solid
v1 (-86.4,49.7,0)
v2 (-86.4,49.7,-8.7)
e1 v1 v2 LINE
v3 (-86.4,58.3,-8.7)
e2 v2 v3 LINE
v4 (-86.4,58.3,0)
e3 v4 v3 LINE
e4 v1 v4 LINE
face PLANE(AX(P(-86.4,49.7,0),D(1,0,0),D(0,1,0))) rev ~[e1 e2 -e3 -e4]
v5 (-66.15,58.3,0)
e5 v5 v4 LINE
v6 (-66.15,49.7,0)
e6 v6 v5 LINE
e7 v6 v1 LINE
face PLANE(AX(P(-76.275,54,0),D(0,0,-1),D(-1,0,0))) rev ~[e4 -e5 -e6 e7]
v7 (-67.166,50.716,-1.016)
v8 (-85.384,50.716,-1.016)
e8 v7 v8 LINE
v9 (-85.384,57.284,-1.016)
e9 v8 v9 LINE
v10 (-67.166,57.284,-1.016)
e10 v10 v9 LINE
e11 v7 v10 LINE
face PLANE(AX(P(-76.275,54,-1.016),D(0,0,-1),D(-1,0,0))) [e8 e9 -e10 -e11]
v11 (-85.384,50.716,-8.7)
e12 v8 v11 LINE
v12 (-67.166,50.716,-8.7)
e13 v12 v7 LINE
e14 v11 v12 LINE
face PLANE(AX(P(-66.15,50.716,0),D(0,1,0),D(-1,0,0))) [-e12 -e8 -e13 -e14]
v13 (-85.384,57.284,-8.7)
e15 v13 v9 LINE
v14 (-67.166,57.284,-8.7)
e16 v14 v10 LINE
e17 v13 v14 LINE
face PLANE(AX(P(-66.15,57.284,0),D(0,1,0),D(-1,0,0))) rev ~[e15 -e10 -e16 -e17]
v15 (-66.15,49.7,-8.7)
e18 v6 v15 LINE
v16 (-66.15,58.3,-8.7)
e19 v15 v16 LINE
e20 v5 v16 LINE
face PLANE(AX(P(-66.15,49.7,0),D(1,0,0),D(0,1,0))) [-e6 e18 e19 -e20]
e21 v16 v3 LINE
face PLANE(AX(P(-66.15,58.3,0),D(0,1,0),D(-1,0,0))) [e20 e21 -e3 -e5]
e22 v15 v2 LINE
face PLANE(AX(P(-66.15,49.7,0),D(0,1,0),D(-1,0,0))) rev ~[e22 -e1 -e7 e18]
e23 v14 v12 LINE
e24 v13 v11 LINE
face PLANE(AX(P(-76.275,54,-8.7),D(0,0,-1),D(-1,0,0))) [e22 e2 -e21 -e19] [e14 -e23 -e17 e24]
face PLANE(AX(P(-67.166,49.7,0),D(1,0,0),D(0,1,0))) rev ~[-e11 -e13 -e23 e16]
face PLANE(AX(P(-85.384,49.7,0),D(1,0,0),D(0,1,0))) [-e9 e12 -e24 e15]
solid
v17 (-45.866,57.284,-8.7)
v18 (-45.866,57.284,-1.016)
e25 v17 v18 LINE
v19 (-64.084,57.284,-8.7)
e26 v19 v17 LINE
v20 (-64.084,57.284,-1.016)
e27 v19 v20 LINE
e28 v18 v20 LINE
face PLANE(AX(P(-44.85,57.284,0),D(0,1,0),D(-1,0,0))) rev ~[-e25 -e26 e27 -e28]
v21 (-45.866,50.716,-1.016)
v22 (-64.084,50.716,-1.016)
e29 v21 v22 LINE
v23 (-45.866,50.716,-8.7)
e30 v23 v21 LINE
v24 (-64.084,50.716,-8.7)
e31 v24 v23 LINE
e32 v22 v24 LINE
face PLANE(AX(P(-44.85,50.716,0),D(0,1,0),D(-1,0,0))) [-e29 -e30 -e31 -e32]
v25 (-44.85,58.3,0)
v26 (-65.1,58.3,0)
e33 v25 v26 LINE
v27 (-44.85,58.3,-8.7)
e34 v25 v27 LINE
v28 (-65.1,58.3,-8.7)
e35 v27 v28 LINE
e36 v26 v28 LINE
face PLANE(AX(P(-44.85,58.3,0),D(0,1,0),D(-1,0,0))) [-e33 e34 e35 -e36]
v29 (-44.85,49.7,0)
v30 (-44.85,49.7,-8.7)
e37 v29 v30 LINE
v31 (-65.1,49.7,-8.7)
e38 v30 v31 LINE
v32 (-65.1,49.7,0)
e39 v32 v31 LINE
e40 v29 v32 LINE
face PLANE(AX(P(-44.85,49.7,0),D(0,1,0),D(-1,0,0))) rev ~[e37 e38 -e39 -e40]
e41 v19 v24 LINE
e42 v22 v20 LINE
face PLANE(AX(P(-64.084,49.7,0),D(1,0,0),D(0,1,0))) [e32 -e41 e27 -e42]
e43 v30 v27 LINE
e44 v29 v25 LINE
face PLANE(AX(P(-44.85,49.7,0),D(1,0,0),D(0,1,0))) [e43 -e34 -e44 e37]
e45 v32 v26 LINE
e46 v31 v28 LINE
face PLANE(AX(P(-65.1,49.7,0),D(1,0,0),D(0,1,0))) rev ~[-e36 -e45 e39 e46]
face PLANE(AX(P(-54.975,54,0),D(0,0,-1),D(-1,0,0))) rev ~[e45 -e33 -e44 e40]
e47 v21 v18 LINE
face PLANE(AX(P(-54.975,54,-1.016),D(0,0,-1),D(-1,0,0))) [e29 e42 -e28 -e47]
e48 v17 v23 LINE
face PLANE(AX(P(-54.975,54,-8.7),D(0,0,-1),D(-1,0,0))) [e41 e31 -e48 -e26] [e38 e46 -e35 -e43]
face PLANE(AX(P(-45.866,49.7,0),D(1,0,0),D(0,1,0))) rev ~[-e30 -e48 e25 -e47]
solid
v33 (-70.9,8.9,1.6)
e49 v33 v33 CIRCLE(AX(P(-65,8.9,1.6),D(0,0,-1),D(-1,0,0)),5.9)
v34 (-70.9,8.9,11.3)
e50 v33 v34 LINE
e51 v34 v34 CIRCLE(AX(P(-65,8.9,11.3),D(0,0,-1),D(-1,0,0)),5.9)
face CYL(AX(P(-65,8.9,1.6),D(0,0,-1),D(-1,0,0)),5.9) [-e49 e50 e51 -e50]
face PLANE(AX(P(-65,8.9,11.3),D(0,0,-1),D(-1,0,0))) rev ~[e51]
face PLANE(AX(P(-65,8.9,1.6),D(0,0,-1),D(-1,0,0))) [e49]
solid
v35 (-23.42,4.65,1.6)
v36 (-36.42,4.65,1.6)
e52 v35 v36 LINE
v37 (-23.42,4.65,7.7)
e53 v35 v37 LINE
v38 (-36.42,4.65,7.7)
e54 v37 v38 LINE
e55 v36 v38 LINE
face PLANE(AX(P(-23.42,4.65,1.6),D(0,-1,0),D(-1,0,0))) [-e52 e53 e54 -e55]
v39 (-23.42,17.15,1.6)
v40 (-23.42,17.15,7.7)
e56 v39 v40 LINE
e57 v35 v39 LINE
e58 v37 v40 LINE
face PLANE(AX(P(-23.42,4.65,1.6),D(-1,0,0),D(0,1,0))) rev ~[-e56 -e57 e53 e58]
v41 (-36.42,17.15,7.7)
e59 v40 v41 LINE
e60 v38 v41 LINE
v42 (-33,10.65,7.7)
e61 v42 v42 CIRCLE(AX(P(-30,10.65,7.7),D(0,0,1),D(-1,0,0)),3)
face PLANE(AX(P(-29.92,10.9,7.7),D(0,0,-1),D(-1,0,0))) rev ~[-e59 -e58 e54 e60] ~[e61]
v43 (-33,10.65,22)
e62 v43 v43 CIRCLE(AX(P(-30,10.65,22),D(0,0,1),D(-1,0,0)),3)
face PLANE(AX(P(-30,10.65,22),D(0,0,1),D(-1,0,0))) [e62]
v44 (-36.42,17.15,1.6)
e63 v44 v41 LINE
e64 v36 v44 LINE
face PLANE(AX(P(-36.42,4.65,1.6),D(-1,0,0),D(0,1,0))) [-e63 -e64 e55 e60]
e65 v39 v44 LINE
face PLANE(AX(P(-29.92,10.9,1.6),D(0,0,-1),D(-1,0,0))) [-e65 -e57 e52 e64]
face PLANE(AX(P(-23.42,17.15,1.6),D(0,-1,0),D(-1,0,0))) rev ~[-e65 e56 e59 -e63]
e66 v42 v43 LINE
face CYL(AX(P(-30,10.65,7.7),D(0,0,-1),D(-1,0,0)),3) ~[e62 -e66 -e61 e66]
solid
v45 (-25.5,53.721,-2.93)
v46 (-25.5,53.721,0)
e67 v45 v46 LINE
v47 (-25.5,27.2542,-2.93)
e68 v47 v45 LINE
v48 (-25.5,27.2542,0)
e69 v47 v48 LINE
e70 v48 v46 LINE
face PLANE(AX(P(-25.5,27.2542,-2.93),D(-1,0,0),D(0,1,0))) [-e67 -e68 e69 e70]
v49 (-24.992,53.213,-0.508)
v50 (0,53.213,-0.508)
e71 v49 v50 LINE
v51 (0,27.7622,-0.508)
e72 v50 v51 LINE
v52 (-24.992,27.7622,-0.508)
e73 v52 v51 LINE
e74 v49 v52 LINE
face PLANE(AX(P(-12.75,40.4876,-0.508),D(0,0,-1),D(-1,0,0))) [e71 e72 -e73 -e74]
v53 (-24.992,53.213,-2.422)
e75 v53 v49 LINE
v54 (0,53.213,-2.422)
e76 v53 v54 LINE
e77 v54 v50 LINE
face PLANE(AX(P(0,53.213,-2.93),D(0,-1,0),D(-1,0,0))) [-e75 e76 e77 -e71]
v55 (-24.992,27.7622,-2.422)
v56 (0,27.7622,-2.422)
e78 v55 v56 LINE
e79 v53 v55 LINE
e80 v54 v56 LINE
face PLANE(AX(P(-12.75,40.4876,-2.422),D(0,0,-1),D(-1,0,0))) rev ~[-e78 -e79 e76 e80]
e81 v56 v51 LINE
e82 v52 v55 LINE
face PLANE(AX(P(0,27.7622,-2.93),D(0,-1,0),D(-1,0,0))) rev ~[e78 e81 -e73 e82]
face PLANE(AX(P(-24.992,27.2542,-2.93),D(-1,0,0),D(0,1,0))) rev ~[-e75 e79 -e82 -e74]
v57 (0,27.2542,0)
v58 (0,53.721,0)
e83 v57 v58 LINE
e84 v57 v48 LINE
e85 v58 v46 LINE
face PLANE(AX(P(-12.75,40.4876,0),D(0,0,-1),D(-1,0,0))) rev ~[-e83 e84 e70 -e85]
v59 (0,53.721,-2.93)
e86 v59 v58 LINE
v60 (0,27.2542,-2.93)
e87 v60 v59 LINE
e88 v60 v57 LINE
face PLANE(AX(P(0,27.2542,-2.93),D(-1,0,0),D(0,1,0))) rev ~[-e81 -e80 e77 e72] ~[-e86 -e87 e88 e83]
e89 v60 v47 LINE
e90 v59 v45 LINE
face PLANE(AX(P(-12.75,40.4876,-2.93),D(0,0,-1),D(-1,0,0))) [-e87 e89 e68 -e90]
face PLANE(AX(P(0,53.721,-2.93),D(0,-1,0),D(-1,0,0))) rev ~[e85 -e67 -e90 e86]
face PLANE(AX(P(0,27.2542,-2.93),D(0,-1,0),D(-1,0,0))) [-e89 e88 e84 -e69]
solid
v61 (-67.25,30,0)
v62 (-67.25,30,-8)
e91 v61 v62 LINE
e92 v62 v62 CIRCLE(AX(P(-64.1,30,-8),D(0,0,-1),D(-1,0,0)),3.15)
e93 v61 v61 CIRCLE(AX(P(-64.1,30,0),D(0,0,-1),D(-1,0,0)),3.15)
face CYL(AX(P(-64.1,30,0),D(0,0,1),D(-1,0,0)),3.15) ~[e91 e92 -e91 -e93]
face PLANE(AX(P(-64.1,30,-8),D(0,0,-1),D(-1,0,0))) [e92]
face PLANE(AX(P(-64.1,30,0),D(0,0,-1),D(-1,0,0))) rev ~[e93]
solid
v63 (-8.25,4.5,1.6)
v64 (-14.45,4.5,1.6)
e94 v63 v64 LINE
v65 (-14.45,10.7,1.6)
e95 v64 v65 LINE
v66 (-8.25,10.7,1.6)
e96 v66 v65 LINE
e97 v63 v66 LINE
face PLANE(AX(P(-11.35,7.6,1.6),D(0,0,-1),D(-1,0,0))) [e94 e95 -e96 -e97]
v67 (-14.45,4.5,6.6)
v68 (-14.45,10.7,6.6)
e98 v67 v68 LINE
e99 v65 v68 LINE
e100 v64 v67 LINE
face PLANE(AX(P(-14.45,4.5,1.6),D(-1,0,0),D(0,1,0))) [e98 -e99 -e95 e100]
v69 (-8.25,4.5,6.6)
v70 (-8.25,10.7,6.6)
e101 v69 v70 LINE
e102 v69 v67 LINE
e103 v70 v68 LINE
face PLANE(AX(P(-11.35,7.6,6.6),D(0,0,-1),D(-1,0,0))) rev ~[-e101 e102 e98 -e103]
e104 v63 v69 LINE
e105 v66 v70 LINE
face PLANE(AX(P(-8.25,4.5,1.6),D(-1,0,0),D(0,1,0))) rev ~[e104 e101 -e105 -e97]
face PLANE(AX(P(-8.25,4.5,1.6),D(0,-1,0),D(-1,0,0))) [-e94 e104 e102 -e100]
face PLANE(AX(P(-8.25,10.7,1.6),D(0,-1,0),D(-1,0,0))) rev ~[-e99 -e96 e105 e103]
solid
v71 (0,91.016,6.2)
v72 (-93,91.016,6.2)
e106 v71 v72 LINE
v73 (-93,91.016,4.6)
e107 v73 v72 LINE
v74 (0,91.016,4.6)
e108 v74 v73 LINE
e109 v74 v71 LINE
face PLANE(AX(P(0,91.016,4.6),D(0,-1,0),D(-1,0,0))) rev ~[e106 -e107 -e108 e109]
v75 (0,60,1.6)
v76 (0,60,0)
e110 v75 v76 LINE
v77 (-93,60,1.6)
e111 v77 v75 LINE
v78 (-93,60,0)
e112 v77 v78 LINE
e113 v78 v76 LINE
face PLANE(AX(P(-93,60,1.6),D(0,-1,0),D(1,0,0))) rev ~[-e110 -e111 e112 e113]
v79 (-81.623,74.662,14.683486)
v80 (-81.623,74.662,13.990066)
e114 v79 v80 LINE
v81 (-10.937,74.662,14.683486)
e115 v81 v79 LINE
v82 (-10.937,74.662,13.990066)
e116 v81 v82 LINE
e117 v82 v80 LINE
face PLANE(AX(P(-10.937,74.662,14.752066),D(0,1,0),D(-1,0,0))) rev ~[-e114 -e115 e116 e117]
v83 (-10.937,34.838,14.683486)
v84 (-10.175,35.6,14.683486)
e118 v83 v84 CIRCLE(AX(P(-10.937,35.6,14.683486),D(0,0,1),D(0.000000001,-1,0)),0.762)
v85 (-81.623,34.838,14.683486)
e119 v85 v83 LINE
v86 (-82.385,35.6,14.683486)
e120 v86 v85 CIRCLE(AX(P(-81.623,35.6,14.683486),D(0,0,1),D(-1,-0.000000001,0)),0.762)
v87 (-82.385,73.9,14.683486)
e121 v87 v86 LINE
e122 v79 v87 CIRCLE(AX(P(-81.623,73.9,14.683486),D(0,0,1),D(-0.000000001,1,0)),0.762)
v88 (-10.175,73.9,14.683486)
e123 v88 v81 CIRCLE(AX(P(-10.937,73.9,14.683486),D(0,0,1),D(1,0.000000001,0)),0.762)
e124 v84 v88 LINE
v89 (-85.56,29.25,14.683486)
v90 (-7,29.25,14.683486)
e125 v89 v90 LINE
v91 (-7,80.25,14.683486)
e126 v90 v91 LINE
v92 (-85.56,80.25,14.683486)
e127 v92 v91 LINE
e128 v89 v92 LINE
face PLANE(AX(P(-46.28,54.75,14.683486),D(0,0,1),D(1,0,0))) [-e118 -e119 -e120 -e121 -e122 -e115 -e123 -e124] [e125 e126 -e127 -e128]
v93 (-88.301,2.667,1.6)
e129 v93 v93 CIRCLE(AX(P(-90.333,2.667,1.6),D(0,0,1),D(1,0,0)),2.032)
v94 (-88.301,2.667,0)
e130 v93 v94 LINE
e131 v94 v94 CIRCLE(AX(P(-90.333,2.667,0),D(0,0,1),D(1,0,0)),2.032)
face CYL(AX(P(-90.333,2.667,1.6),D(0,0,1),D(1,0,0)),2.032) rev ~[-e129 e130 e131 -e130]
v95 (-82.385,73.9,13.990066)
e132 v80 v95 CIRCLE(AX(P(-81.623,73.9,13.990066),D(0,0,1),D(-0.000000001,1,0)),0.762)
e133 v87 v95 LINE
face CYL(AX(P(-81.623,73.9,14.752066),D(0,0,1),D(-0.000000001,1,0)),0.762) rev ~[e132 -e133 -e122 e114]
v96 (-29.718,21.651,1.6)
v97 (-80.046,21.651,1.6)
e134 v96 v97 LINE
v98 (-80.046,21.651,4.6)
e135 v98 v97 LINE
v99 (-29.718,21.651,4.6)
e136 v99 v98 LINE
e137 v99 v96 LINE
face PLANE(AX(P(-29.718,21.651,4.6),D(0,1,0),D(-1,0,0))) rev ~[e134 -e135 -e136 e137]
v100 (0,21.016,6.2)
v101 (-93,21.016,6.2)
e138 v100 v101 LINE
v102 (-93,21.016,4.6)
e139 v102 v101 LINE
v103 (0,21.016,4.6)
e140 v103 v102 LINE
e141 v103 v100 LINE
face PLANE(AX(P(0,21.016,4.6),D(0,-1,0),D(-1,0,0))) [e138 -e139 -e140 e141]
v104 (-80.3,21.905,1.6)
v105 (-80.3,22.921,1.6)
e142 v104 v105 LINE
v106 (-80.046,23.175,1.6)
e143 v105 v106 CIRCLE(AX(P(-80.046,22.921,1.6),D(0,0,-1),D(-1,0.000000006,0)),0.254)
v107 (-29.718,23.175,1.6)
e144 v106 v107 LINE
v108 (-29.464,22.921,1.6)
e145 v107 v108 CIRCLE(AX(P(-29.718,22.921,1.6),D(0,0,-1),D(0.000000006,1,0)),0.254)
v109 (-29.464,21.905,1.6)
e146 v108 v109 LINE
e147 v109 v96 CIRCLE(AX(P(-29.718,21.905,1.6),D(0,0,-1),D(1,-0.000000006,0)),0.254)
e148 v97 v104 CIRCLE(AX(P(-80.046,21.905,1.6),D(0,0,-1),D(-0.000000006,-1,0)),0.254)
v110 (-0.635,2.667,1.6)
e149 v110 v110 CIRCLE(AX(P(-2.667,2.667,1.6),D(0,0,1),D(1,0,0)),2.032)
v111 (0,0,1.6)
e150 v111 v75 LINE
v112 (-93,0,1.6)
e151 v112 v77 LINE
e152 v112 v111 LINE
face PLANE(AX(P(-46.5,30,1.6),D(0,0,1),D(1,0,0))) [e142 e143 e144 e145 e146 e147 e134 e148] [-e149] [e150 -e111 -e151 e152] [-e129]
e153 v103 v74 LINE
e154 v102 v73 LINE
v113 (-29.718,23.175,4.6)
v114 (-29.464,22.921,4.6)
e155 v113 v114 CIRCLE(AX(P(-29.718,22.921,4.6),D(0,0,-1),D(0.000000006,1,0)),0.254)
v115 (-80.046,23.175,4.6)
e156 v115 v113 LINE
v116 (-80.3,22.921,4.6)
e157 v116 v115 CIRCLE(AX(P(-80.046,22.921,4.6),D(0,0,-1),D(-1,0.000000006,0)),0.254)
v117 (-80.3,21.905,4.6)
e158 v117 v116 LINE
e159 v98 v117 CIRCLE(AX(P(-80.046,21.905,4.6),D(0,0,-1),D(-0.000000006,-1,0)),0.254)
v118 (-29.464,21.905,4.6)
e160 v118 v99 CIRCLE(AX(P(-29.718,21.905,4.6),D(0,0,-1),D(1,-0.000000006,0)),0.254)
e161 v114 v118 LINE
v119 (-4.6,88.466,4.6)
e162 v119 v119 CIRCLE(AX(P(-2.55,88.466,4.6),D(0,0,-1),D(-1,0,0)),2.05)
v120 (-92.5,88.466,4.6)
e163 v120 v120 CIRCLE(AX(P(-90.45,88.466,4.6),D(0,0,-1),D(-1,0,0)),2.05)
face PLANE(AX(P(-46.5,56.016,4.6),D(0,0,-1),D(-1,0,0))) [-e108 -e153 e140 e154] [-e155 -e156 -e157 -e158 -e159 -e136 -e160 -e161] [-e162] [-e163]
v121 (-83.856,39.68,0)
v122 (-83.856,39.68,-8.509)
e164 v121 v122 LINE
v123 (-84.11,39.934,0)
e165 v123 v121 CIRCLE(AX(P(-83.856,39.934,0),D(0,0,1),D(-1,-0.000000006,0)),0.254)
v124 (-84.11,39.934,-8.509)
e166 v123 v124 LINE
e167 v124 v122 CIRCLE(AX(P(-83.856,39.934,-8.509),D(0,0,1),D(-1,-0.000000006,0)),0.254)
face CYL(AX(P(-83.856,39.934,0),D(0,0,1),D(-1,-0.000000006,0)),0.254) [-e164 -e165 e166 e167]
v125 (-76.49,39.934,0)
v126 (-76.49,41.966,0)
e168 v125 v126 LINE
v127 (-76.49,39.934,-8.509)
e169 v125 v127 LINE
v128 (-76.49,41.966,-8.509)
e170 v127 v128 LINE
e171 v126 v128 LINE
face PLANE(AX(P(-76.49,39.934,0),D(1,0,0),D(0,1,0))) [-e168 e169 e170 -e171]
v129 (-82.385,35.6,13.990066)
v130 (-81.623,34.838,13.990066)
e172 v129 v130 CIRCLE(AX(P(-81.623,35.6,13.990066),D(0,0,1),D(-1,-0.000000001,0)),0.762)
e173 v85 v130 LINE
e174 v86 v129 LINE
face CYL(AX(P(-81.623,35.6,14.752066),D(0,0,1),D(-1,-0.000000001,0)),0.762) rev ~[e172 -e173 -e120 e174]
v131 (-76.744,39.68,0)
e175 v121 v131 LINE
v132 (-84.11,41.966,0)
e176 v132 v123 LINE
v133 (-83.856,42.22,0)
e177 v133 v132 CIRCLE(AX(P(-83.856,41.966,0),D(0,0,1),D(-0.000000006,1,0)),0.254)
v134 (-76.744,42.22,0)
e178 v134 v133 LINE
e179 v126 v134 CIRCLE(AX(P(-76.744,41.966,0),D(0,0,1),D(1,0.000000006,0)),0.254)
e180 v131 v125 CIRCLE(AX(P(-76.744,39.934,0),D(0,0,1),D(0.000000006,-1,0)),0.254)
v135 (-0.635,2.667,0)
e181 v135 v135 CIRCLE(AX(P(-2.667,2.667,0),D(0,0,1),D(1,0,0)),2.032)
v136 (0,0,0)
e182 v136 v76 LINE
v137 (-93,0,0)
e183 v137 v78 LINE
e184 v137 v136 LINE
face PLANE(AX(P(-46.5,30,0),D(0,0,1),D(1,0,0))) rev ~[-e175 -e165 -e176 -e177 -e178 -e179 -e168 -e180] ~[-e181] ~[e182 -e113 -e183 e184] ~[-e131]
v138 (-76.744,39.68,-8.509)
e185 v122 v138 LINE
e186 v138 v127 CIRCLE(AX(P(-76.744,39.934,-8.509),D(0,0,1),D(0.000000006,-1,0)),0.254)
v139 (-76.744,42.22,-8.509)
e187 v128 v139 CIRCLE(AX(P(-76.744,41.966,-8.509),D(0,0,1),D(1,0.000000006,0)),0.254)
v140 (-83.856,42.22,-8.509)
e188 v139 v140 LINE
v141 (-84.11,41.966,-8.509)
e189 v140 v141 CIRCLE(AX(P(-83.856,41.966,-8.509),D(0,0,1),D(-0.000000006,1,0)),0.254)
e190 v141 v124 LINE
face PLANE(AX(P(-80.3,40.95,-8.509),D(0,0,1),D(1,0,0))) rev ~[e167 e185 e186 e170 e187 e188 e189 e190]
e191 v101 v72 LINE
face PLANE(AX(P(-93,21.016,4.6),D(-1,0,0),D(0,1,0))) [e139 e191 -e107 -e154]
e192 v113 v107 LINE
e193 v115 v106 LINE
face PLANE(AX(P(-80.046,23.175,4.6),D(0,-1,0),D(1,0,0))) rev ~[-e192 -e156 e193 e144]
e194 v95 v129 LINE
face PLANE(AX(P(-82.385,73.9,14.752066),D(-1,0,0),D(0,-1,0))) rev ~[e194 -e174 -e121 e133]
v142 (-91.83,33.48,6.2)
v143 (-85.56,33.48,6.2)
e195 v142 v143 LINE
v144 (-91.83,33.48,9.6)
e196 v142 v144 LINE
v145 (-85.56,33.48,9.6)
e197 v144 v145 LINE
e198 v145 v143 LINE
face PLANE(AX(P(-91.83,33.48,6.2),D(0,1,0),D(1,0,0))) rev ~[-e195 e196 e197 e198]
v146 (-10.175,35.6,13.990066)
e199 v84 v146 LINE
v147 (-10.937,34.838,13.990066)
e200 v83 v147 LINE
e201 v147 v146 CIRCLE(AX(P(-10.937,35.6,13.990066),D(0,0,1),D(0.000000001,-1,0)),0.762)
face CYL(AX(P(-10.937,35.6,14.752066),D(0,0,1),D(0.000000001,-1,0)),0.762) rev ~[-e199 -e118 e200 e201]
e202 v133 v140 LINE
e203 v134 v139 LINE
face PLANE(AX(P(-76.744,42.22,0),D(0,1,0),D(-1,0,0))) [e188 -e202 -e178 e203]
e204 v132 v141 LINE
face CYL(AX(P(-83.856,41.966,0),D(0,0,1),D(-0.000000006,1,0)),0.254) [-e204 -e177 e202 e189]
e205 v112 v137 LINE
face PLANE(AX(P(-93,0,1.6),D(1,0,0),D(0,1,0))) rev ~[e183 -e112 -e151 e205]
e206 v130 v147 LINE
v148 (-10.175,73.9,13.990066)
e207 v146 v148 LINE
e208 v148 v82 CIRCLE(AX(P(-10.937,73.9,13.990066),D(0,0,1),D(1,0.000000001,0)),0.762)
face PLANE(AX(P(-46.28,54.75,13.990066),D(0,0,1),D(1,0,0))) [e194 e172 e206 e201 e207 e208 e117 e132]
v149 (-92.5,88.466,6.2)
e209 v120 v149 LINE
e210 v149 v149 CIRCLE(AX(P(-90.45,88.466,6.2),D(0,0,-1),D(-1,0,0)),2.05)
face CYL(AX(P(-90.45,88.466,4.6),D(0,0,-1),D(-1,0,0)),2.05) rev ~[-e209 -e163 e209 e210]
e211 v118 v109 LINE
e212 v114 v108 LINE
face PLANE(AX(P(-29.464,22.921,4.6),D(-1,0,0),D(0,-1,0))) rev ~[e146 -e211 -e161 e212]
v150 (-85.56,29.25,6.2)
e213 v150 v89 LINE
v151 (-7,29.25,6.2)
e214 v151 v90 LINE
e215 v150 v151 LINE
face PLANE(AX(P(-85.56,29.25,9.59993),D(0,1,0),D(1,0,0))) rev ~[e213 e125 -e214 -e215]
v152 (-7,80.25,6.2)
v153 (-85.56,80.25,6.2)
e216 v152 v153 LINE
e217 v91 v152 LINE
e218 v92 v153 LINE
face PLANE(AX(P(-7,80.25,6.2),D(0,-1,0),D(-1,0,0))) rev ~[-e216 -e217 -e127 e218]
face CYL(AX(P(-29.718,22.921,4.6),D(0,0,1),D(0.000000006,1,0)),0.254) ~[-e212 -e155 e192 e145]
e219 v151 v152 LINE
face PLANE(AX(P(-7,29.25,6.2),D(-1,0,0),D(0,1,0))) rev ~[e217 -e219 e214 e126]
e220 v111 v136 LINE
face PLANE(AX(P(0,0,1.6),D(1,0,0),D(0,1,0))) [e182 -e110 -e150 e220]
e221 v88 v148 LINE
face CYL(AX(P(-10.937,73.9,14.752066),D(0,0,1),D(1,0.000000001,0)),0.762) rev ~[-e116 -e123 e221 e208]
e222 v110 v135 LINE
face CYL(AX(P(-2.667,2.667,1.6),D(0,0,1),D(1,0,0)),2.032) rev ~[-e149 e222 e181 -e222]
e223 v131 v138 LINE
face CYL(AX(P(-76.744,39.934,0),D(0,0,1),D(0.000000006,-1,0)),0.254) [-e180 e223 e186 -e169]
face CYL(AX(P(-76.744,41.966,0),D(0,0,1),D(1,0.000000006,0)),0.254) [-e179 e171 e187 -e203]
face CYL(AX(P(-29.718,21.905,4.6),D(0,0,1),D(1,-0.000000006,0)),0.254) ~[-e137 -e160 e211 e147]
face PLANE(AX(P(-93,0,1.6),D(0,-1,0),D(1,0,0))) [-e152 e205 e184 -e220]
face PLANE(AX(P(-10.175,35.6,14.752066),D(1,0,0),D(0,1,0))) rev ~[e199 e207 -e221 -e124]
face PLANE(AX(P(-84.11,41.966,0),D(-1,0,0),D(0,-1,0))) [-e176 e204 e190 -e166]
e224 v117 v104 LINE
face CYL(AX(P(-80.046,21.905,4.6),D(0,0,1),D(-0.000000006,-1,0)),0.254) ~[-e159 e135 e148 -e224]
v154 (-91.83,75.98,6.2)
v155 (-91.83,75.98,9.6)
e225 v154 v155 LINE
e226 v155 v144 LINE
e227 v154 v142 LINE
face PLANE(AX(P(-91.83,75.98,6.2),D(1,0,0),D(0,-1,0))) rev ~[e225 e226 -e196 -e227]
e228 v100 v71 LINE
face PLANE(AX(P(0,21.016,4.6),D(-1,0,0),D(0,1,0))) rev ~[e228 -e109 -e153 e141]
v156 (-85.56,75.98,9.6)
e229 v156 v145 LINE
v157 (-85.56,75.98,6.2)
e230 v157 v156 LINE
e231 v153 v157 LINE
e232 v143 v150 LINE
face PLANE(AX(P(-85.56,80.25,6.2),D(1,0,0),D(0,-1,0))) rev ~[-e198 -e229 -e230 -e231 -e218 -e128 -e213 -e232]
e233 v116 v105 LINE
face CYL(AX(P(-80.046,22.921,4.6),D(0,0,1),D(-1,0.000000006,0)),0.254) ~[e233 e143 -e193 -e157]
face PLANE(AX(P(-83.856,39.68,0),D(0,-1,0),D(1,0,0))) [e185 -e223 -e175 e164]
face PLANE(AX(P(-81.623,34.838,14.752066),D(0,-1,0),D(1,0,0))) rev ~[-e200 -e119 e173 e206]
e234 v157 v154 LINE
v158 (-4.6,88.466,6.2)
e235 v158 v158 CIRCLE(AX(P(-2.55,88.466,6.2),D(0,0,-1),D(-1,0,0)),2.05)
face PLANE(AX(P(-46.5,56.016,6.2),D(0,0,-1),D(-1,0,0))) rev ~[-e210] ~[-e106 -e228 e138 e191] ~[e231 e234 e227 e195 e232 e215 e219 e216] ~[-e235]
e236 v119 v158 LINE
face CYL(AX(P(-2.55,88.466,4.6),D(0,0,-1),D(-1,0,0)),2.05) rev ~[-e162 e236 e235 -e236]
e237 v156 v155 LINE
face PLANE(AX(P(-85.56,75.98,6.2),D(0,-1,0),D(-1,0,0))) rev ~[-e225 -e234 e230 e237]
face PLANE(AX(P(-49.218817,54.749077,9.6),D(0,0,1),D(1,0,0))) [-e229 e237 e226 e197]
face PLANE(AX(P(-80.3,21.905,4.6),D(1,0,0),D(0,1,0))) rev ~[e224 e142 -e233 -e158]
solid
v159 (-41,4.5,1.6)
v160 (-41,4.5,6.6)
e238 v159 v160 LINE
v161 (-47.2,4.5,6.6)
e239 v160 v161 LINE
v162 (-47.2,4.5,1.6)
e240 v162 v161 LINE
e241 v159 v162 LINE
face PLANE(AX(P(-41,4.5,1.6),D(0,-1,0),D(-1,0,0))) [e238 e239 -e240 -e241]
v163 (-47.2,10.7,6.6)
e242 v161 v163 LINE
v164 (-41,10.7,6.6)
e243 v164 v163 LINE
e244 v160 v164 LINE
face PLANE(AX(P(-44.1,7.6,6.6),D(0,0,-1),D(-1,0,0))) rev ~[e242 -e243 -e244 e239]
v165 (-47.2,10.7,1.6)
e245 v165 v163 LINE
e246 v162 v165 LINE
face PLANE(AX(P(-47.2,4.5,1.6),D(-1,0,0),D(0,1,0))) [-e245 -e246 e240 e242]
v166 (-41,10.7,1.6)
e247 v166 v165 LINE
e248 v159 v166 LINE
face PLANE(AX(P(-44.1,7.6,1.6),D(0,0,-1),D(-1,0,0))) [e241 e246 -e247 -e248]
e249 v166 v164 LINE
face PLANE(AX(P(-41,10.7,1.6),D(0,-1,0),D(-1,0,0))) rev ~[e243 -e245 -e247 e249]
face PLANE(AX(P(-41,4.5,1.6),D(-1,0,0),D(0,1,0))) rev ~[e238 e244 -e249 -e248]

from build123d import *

# Parameters (mm, degrees)
SKETCH6_W            = 93
SKETCH6_H            = 70
SKETCH6_R            = 2.05
GREEN_PCB_DEPTH      = 1.6
SKETCH57_W           = 93
SKETCH57_H           = 60
SKETCH57_R           = 2.032
WHITE_PCB_DEPTH      = 1.6
JUMPER_DEPTH         = 8.509
LCD_PINS_DEPTH       = 3
LCD_BASE_DEPTH       = 3.4
SKETCH109_W          = 78.56
SKETCH109_H          = 51
LCD_SCREEN_DEPTH     = 5.083556
LCD_GLASS_DEPTH      = 0.762
SKETCH17_W           = 25.5
SKETCH17_H           = 26.4668
SD_CARD_DEPTH        = 2.93
SKETCH24_W           = 6.2
SKETCH24_H           = 6.2
STOP_DEPTH           = 5
SKETCH32_W           = 6.2
SKETCH32_H           = 6.2
LIGHT_DEPTH          = 5
SKETCH40_W           = 13
SKETCH40_H           = 12.5
SELECTOR_DEPTH       = 6.1
SKETCH41_R           = 3
SELECTOR_SHAFT_DEPTH = 14.3
SKETCH49_R           = 5.9
SPEAKER_DEPTH        = 9.7
SKETCH77_R           = 3.15
CAPACITOR_DEPTH      = 8
SKETCH78_W           = 20.25
SKETCH78_H           = 8.6
EPX1_DEPTH           = 8.7
SKETCH88_W           = 20.25
SKETCH88_H           = 8.6
EXP2_DEPTH           = 8.7
SHELL2_T             = -0.508
SHELL3_T             = -1.016
SHELL4_T             = -1.016


with BuildPart() as part:
    # Sketch6 → Green PCB (new body)
    with BuildSketch(Plane(origin=(0, 0, 4.6), x_dir=(-1, 0, 0), z_dir=(0, 0, -1))):
        with Locations((46.5, 56.016)):
            Rectangle(SKETCH6_W, SKETCH6_H)
        with Locations((90.45, 88.466)):
            Circle(SKETCH6_R, mode=Mode.SUBTRACT)
        with Locations((2.55, 88.466)):
            Circle(SKETCH6_R, mode=Mode.SUBTRACT)
    extrude(amount=-GREEN_PCB_DEPTH)



with BuildPart() as body_2:
    # Sketch57 → White PCB (new body)
    with BuildSketch(Plane.XY.offset(1.6)):
        with Locations((-46.5, 30)):
            Rectangle(SKETCH57_W, SKETCH57_H)
        with Locations((-2.667, 2.667)):
            Circle(SKETCH57_R, mode=Mode.SUBTRACT)
        with Locations((-90.333, 2.667)):
            Circle(SKETCH57_R, mode=Mode.SUBTRACT)
    extrude(amount=-WHITE_PCB_DEPTH)

    # Sketch122 → Jumper (add)
    with BuildSketch(Plane.XY):
        with BuildLine():
            Line((-84.11, 41.966), (-84.11, 39.934))
            ThreePointArc((-84.11, 39.934), (-84.035605122, 39.754394878), (-83.856, 39.68))
            Line((-83.856, 39.68), (-76.744, 39.68))
            ThreePointArc((-76.744, 39.68), (-76.564394878, 39.754394878), (-76.49, 39.934))
            Line((-76.49, 39.934), (-76.49, 41.966))
            ThreePointArc((-76.49, 41.966), (-76.564394878, 42.145605122), (-76.744, 42.22))
            Line((-76.744, 42.22), (-83.856, 42.22))
            ThreePointArc((-83.856, 42.22), (-84.035605122, 42.145605122), (-84.11, 41.966))
        make_face()
    extrude(amount=-JUMPER_DEPTH)


with BuildPart() as part_1:
    add(part.part)

    add(body_2.part)  # LCD Pins merges body 2
    # Sketch123 → LCD Pins (add)
    with BuildSketch(Plane(origin=(0, 0, 4.6), x_dir=(-1, 0, 0), z_dir=(0, 0, -1))):
        with BuildLine():
            Line((80.3, 21.905), (80.3, 22.921))
            ThreePointArc((80.3, 22.921), (80.225605122, 23.100605122), (80.046, 23.175))
            Line((80.046, 23.175), (29.718, 23.175))
            ThreePointArc((29.718, 23.175), (29.538394878, 23.100605122), (29.464, 22.921))
            Line((29.464, 22.921), (29.464, 21.905))
            ThreePointArc((29.464, 21.905), (29.538394878, 21.725394878), (29.718, 21.651))
            Line((29.718, 21.651), (80.046, 21.651))
            ThreePointArc((80.046, 21.651), (80.225605122, 21.725394878), (80.3, 21.905))
        make_face()
    extrude(amount=LCD_PINS_DEPTH)

    # Sketch98 → LCD Base (add)
    with BuildSketch(Plane.XY.offset(6.2)):
        Polygon((-85.56, 75.98), (-91.83, 75.98), (-91.83, 33.48), (-85.56, 33.48), (-85.56, 29.25), (-7, 29.25), (-7, 80.25), (-85.56, 80.25), align=None)
    extrude(amount=LCD_BASE_DEPTH)

    # Sketch109 → LCD Screen (add)
    with BuildSketch(Plane.XY.offset(9.59993)):
        with Locations((-46.28, 54.75)):
            Rectangle(SKETCH109_W, SKETCH109_H)
    extrude(amount=LCD_SCREEN_DEPTH)

    # Sketch121 → LCD Glass (cut)
    with BuildSketch(Plane.XY.offset(14.752066)):
        with BuildLine():
            Line((-82.385, 73.9), (-82.385, 35.6))
            ThreePointArc((-82.385, 35.6), (-82.161815367, 35.061184633), (-81.623, 34.838))
            Line((-81.623, 34.838), (-10.937, 34.838))
            ThreePointArc((-10.937, 34.838), (-10.398184633, 35.061184633), (-10.175, 35.6))
            Line((-10.175, 35.6), (-10.175, 73.9))
            ThreePointArc((-10.175, 73.9), (-10.398184633, 74.438815367), (-10.937, 74.662))
            Line((-10.937, 74.662), (-81.623, 74.662))
            ThreePointArc((-81.623, 74.662), (-82.161815367, 74.438815367), (-82.385, 73.9))
        make_face()
    extrude(amount=-LCD_GLASS_DEPTH, mode=Mode.SUBTRACT)


with BuildPart() as body_2_2:
    # Sketch17 → SD Card (new body)
    with BuildSketch(Plane(origin=(0, 0, -2.93), x_dir=(-1, 0, 0), z_dir=(0, 0, -1))):
        with Locations((12.75, 40.4876)):
            Rectangle(SKETCH17_W, SKETCH17_H)
    extrude(amount=-SD_CARD_DEPTH)

    # Shell2
    shell2_openings = [body_2_2.faces().sort_by_distance(p)[0] for p in [
        (0, 40.4876, -1.465),
    ]]
    offset(amount=SHELL2_T, openings=shell2_openings, kind=Kind.INTERSECTION)


with BuildPart() as body_3:
    # Sketch24 → Stop (new body)
    with BuildSketch(Plane(origin=(0, 0, 1.6), x_dir=(-1, 0, 0), z_dir=(0, 0, -1))):
        with Locations((44.1, 7.6)):
            Rectangle(SKETCH24_W, SKETCH24_H)
    extrude(amount=-STOP_DEPTH)


with BuildPart() as body_4:
    # Sketch32 → Light (new body)
    with BuildSketch(Plane(origin=(0, 0, 1.6), x_dir=(-1, 0, 0), z_dir=(0, 0, -1))):
        with Locations((11.35, 7.6)):
            Rectangle(SKETCH32_W, SKETCH32_H)
    extrude(amount=-LIGHT_DEPTH)


with BuildPart() as body_5:
    # Sketch40 → Selector (new body)
    with BuildSketch(Plane(origin=(0, 0, 1.6), x_dir=(-1, 0, 0), z_dir=(0, 0, -1))):
        with Locations((29.92, 10.9)):
            Rectangle(SKETCH40_W, SKETCH40_H)
    extrude(amount=-SELECTOR_DEPTH)

    # Sketch41 → Selector Shaft (add)
    with BuildSketch(Plane.XY.offset(7.7)):
        with Locations(Location((-30, 10.65, 0), (0, 0, 180))):
            Circle(SKETCH41_R)
    extrude(amount=SELECTOR_SHAFT_DEPTH)


with BuildPart() as body_6:
    # Sketch49 → Speaker (new body)
    with BuildSketch(Plane(origin=(0, 0, 1.6), x_dir=(-1, 0, 0), z_dir=(0, 0, -1))):
        with Locations((65, 8.9)):
            Circle(SKETCH49_R)
    extrude(amount=-SPEAKER_DEPTH)


with BuildPart() as body_7:
    # Sketch77 → Capacitor (new body)
    with BuildSketch(Plane(origin=(0, 0, 0), x_dir=(-1, 0, 0), z_dir=(0, 0, -1))):
        with Locations((64.1, 30)):
            Circle(SKETCH77_R)
    extrude(amount=CAPACITOR_DEPTH)


with BuildPart() as body_8:
    # Sketch78 → EPX1 (new body)
    with BuildSketch(Plane(origin=(0, 0, 0), x_dir=(-1, 0, 0), z_dir=(0, 0, -1))):
        with Locations((76.275, 54)):
            Rectangle(SKETCH78_W, SKETCH78_H)
    extrude(amount=EPX1_DEPTH)

    # Shell4
    shell4_openings = [body_8.faces().sort_by_distance(p)[0] for p in [
        (-76.275, 54, -8.7),
    ]]
    offset(amount=SHELL4_T, openings=shell4_openings, kind=Kind.INTERSECTION)


with BuildPart() as body_9:
    # Sketch88 → Exp2 (new body)
    with BuildSketch(Plane(origin=(0, 0, 0), x_dir=(-1, 0, 0), z_dir=(0, 0, -1))):
        with Locations((54.975, 54)):
            Rectangle(SKETCH88_W, SKETCH88_H)
    extrude(amount=EXP2_DEPTH)

    # Shell3
    shell3_openings = [body_9.faces().sort_by_distance(p)[0] for p in [
        (-54.975, 54, -8.7),
    ]]
    offset(amount=SHELL3_T, openings=shell3_openings, kind=Kind.INTERSECTION)


solid = Compound([part_1.part, body_2_2.part, body_3.part, body_4.part, body_5.part, body_6.part, body_7.part, body_8.part, body_9.part])
